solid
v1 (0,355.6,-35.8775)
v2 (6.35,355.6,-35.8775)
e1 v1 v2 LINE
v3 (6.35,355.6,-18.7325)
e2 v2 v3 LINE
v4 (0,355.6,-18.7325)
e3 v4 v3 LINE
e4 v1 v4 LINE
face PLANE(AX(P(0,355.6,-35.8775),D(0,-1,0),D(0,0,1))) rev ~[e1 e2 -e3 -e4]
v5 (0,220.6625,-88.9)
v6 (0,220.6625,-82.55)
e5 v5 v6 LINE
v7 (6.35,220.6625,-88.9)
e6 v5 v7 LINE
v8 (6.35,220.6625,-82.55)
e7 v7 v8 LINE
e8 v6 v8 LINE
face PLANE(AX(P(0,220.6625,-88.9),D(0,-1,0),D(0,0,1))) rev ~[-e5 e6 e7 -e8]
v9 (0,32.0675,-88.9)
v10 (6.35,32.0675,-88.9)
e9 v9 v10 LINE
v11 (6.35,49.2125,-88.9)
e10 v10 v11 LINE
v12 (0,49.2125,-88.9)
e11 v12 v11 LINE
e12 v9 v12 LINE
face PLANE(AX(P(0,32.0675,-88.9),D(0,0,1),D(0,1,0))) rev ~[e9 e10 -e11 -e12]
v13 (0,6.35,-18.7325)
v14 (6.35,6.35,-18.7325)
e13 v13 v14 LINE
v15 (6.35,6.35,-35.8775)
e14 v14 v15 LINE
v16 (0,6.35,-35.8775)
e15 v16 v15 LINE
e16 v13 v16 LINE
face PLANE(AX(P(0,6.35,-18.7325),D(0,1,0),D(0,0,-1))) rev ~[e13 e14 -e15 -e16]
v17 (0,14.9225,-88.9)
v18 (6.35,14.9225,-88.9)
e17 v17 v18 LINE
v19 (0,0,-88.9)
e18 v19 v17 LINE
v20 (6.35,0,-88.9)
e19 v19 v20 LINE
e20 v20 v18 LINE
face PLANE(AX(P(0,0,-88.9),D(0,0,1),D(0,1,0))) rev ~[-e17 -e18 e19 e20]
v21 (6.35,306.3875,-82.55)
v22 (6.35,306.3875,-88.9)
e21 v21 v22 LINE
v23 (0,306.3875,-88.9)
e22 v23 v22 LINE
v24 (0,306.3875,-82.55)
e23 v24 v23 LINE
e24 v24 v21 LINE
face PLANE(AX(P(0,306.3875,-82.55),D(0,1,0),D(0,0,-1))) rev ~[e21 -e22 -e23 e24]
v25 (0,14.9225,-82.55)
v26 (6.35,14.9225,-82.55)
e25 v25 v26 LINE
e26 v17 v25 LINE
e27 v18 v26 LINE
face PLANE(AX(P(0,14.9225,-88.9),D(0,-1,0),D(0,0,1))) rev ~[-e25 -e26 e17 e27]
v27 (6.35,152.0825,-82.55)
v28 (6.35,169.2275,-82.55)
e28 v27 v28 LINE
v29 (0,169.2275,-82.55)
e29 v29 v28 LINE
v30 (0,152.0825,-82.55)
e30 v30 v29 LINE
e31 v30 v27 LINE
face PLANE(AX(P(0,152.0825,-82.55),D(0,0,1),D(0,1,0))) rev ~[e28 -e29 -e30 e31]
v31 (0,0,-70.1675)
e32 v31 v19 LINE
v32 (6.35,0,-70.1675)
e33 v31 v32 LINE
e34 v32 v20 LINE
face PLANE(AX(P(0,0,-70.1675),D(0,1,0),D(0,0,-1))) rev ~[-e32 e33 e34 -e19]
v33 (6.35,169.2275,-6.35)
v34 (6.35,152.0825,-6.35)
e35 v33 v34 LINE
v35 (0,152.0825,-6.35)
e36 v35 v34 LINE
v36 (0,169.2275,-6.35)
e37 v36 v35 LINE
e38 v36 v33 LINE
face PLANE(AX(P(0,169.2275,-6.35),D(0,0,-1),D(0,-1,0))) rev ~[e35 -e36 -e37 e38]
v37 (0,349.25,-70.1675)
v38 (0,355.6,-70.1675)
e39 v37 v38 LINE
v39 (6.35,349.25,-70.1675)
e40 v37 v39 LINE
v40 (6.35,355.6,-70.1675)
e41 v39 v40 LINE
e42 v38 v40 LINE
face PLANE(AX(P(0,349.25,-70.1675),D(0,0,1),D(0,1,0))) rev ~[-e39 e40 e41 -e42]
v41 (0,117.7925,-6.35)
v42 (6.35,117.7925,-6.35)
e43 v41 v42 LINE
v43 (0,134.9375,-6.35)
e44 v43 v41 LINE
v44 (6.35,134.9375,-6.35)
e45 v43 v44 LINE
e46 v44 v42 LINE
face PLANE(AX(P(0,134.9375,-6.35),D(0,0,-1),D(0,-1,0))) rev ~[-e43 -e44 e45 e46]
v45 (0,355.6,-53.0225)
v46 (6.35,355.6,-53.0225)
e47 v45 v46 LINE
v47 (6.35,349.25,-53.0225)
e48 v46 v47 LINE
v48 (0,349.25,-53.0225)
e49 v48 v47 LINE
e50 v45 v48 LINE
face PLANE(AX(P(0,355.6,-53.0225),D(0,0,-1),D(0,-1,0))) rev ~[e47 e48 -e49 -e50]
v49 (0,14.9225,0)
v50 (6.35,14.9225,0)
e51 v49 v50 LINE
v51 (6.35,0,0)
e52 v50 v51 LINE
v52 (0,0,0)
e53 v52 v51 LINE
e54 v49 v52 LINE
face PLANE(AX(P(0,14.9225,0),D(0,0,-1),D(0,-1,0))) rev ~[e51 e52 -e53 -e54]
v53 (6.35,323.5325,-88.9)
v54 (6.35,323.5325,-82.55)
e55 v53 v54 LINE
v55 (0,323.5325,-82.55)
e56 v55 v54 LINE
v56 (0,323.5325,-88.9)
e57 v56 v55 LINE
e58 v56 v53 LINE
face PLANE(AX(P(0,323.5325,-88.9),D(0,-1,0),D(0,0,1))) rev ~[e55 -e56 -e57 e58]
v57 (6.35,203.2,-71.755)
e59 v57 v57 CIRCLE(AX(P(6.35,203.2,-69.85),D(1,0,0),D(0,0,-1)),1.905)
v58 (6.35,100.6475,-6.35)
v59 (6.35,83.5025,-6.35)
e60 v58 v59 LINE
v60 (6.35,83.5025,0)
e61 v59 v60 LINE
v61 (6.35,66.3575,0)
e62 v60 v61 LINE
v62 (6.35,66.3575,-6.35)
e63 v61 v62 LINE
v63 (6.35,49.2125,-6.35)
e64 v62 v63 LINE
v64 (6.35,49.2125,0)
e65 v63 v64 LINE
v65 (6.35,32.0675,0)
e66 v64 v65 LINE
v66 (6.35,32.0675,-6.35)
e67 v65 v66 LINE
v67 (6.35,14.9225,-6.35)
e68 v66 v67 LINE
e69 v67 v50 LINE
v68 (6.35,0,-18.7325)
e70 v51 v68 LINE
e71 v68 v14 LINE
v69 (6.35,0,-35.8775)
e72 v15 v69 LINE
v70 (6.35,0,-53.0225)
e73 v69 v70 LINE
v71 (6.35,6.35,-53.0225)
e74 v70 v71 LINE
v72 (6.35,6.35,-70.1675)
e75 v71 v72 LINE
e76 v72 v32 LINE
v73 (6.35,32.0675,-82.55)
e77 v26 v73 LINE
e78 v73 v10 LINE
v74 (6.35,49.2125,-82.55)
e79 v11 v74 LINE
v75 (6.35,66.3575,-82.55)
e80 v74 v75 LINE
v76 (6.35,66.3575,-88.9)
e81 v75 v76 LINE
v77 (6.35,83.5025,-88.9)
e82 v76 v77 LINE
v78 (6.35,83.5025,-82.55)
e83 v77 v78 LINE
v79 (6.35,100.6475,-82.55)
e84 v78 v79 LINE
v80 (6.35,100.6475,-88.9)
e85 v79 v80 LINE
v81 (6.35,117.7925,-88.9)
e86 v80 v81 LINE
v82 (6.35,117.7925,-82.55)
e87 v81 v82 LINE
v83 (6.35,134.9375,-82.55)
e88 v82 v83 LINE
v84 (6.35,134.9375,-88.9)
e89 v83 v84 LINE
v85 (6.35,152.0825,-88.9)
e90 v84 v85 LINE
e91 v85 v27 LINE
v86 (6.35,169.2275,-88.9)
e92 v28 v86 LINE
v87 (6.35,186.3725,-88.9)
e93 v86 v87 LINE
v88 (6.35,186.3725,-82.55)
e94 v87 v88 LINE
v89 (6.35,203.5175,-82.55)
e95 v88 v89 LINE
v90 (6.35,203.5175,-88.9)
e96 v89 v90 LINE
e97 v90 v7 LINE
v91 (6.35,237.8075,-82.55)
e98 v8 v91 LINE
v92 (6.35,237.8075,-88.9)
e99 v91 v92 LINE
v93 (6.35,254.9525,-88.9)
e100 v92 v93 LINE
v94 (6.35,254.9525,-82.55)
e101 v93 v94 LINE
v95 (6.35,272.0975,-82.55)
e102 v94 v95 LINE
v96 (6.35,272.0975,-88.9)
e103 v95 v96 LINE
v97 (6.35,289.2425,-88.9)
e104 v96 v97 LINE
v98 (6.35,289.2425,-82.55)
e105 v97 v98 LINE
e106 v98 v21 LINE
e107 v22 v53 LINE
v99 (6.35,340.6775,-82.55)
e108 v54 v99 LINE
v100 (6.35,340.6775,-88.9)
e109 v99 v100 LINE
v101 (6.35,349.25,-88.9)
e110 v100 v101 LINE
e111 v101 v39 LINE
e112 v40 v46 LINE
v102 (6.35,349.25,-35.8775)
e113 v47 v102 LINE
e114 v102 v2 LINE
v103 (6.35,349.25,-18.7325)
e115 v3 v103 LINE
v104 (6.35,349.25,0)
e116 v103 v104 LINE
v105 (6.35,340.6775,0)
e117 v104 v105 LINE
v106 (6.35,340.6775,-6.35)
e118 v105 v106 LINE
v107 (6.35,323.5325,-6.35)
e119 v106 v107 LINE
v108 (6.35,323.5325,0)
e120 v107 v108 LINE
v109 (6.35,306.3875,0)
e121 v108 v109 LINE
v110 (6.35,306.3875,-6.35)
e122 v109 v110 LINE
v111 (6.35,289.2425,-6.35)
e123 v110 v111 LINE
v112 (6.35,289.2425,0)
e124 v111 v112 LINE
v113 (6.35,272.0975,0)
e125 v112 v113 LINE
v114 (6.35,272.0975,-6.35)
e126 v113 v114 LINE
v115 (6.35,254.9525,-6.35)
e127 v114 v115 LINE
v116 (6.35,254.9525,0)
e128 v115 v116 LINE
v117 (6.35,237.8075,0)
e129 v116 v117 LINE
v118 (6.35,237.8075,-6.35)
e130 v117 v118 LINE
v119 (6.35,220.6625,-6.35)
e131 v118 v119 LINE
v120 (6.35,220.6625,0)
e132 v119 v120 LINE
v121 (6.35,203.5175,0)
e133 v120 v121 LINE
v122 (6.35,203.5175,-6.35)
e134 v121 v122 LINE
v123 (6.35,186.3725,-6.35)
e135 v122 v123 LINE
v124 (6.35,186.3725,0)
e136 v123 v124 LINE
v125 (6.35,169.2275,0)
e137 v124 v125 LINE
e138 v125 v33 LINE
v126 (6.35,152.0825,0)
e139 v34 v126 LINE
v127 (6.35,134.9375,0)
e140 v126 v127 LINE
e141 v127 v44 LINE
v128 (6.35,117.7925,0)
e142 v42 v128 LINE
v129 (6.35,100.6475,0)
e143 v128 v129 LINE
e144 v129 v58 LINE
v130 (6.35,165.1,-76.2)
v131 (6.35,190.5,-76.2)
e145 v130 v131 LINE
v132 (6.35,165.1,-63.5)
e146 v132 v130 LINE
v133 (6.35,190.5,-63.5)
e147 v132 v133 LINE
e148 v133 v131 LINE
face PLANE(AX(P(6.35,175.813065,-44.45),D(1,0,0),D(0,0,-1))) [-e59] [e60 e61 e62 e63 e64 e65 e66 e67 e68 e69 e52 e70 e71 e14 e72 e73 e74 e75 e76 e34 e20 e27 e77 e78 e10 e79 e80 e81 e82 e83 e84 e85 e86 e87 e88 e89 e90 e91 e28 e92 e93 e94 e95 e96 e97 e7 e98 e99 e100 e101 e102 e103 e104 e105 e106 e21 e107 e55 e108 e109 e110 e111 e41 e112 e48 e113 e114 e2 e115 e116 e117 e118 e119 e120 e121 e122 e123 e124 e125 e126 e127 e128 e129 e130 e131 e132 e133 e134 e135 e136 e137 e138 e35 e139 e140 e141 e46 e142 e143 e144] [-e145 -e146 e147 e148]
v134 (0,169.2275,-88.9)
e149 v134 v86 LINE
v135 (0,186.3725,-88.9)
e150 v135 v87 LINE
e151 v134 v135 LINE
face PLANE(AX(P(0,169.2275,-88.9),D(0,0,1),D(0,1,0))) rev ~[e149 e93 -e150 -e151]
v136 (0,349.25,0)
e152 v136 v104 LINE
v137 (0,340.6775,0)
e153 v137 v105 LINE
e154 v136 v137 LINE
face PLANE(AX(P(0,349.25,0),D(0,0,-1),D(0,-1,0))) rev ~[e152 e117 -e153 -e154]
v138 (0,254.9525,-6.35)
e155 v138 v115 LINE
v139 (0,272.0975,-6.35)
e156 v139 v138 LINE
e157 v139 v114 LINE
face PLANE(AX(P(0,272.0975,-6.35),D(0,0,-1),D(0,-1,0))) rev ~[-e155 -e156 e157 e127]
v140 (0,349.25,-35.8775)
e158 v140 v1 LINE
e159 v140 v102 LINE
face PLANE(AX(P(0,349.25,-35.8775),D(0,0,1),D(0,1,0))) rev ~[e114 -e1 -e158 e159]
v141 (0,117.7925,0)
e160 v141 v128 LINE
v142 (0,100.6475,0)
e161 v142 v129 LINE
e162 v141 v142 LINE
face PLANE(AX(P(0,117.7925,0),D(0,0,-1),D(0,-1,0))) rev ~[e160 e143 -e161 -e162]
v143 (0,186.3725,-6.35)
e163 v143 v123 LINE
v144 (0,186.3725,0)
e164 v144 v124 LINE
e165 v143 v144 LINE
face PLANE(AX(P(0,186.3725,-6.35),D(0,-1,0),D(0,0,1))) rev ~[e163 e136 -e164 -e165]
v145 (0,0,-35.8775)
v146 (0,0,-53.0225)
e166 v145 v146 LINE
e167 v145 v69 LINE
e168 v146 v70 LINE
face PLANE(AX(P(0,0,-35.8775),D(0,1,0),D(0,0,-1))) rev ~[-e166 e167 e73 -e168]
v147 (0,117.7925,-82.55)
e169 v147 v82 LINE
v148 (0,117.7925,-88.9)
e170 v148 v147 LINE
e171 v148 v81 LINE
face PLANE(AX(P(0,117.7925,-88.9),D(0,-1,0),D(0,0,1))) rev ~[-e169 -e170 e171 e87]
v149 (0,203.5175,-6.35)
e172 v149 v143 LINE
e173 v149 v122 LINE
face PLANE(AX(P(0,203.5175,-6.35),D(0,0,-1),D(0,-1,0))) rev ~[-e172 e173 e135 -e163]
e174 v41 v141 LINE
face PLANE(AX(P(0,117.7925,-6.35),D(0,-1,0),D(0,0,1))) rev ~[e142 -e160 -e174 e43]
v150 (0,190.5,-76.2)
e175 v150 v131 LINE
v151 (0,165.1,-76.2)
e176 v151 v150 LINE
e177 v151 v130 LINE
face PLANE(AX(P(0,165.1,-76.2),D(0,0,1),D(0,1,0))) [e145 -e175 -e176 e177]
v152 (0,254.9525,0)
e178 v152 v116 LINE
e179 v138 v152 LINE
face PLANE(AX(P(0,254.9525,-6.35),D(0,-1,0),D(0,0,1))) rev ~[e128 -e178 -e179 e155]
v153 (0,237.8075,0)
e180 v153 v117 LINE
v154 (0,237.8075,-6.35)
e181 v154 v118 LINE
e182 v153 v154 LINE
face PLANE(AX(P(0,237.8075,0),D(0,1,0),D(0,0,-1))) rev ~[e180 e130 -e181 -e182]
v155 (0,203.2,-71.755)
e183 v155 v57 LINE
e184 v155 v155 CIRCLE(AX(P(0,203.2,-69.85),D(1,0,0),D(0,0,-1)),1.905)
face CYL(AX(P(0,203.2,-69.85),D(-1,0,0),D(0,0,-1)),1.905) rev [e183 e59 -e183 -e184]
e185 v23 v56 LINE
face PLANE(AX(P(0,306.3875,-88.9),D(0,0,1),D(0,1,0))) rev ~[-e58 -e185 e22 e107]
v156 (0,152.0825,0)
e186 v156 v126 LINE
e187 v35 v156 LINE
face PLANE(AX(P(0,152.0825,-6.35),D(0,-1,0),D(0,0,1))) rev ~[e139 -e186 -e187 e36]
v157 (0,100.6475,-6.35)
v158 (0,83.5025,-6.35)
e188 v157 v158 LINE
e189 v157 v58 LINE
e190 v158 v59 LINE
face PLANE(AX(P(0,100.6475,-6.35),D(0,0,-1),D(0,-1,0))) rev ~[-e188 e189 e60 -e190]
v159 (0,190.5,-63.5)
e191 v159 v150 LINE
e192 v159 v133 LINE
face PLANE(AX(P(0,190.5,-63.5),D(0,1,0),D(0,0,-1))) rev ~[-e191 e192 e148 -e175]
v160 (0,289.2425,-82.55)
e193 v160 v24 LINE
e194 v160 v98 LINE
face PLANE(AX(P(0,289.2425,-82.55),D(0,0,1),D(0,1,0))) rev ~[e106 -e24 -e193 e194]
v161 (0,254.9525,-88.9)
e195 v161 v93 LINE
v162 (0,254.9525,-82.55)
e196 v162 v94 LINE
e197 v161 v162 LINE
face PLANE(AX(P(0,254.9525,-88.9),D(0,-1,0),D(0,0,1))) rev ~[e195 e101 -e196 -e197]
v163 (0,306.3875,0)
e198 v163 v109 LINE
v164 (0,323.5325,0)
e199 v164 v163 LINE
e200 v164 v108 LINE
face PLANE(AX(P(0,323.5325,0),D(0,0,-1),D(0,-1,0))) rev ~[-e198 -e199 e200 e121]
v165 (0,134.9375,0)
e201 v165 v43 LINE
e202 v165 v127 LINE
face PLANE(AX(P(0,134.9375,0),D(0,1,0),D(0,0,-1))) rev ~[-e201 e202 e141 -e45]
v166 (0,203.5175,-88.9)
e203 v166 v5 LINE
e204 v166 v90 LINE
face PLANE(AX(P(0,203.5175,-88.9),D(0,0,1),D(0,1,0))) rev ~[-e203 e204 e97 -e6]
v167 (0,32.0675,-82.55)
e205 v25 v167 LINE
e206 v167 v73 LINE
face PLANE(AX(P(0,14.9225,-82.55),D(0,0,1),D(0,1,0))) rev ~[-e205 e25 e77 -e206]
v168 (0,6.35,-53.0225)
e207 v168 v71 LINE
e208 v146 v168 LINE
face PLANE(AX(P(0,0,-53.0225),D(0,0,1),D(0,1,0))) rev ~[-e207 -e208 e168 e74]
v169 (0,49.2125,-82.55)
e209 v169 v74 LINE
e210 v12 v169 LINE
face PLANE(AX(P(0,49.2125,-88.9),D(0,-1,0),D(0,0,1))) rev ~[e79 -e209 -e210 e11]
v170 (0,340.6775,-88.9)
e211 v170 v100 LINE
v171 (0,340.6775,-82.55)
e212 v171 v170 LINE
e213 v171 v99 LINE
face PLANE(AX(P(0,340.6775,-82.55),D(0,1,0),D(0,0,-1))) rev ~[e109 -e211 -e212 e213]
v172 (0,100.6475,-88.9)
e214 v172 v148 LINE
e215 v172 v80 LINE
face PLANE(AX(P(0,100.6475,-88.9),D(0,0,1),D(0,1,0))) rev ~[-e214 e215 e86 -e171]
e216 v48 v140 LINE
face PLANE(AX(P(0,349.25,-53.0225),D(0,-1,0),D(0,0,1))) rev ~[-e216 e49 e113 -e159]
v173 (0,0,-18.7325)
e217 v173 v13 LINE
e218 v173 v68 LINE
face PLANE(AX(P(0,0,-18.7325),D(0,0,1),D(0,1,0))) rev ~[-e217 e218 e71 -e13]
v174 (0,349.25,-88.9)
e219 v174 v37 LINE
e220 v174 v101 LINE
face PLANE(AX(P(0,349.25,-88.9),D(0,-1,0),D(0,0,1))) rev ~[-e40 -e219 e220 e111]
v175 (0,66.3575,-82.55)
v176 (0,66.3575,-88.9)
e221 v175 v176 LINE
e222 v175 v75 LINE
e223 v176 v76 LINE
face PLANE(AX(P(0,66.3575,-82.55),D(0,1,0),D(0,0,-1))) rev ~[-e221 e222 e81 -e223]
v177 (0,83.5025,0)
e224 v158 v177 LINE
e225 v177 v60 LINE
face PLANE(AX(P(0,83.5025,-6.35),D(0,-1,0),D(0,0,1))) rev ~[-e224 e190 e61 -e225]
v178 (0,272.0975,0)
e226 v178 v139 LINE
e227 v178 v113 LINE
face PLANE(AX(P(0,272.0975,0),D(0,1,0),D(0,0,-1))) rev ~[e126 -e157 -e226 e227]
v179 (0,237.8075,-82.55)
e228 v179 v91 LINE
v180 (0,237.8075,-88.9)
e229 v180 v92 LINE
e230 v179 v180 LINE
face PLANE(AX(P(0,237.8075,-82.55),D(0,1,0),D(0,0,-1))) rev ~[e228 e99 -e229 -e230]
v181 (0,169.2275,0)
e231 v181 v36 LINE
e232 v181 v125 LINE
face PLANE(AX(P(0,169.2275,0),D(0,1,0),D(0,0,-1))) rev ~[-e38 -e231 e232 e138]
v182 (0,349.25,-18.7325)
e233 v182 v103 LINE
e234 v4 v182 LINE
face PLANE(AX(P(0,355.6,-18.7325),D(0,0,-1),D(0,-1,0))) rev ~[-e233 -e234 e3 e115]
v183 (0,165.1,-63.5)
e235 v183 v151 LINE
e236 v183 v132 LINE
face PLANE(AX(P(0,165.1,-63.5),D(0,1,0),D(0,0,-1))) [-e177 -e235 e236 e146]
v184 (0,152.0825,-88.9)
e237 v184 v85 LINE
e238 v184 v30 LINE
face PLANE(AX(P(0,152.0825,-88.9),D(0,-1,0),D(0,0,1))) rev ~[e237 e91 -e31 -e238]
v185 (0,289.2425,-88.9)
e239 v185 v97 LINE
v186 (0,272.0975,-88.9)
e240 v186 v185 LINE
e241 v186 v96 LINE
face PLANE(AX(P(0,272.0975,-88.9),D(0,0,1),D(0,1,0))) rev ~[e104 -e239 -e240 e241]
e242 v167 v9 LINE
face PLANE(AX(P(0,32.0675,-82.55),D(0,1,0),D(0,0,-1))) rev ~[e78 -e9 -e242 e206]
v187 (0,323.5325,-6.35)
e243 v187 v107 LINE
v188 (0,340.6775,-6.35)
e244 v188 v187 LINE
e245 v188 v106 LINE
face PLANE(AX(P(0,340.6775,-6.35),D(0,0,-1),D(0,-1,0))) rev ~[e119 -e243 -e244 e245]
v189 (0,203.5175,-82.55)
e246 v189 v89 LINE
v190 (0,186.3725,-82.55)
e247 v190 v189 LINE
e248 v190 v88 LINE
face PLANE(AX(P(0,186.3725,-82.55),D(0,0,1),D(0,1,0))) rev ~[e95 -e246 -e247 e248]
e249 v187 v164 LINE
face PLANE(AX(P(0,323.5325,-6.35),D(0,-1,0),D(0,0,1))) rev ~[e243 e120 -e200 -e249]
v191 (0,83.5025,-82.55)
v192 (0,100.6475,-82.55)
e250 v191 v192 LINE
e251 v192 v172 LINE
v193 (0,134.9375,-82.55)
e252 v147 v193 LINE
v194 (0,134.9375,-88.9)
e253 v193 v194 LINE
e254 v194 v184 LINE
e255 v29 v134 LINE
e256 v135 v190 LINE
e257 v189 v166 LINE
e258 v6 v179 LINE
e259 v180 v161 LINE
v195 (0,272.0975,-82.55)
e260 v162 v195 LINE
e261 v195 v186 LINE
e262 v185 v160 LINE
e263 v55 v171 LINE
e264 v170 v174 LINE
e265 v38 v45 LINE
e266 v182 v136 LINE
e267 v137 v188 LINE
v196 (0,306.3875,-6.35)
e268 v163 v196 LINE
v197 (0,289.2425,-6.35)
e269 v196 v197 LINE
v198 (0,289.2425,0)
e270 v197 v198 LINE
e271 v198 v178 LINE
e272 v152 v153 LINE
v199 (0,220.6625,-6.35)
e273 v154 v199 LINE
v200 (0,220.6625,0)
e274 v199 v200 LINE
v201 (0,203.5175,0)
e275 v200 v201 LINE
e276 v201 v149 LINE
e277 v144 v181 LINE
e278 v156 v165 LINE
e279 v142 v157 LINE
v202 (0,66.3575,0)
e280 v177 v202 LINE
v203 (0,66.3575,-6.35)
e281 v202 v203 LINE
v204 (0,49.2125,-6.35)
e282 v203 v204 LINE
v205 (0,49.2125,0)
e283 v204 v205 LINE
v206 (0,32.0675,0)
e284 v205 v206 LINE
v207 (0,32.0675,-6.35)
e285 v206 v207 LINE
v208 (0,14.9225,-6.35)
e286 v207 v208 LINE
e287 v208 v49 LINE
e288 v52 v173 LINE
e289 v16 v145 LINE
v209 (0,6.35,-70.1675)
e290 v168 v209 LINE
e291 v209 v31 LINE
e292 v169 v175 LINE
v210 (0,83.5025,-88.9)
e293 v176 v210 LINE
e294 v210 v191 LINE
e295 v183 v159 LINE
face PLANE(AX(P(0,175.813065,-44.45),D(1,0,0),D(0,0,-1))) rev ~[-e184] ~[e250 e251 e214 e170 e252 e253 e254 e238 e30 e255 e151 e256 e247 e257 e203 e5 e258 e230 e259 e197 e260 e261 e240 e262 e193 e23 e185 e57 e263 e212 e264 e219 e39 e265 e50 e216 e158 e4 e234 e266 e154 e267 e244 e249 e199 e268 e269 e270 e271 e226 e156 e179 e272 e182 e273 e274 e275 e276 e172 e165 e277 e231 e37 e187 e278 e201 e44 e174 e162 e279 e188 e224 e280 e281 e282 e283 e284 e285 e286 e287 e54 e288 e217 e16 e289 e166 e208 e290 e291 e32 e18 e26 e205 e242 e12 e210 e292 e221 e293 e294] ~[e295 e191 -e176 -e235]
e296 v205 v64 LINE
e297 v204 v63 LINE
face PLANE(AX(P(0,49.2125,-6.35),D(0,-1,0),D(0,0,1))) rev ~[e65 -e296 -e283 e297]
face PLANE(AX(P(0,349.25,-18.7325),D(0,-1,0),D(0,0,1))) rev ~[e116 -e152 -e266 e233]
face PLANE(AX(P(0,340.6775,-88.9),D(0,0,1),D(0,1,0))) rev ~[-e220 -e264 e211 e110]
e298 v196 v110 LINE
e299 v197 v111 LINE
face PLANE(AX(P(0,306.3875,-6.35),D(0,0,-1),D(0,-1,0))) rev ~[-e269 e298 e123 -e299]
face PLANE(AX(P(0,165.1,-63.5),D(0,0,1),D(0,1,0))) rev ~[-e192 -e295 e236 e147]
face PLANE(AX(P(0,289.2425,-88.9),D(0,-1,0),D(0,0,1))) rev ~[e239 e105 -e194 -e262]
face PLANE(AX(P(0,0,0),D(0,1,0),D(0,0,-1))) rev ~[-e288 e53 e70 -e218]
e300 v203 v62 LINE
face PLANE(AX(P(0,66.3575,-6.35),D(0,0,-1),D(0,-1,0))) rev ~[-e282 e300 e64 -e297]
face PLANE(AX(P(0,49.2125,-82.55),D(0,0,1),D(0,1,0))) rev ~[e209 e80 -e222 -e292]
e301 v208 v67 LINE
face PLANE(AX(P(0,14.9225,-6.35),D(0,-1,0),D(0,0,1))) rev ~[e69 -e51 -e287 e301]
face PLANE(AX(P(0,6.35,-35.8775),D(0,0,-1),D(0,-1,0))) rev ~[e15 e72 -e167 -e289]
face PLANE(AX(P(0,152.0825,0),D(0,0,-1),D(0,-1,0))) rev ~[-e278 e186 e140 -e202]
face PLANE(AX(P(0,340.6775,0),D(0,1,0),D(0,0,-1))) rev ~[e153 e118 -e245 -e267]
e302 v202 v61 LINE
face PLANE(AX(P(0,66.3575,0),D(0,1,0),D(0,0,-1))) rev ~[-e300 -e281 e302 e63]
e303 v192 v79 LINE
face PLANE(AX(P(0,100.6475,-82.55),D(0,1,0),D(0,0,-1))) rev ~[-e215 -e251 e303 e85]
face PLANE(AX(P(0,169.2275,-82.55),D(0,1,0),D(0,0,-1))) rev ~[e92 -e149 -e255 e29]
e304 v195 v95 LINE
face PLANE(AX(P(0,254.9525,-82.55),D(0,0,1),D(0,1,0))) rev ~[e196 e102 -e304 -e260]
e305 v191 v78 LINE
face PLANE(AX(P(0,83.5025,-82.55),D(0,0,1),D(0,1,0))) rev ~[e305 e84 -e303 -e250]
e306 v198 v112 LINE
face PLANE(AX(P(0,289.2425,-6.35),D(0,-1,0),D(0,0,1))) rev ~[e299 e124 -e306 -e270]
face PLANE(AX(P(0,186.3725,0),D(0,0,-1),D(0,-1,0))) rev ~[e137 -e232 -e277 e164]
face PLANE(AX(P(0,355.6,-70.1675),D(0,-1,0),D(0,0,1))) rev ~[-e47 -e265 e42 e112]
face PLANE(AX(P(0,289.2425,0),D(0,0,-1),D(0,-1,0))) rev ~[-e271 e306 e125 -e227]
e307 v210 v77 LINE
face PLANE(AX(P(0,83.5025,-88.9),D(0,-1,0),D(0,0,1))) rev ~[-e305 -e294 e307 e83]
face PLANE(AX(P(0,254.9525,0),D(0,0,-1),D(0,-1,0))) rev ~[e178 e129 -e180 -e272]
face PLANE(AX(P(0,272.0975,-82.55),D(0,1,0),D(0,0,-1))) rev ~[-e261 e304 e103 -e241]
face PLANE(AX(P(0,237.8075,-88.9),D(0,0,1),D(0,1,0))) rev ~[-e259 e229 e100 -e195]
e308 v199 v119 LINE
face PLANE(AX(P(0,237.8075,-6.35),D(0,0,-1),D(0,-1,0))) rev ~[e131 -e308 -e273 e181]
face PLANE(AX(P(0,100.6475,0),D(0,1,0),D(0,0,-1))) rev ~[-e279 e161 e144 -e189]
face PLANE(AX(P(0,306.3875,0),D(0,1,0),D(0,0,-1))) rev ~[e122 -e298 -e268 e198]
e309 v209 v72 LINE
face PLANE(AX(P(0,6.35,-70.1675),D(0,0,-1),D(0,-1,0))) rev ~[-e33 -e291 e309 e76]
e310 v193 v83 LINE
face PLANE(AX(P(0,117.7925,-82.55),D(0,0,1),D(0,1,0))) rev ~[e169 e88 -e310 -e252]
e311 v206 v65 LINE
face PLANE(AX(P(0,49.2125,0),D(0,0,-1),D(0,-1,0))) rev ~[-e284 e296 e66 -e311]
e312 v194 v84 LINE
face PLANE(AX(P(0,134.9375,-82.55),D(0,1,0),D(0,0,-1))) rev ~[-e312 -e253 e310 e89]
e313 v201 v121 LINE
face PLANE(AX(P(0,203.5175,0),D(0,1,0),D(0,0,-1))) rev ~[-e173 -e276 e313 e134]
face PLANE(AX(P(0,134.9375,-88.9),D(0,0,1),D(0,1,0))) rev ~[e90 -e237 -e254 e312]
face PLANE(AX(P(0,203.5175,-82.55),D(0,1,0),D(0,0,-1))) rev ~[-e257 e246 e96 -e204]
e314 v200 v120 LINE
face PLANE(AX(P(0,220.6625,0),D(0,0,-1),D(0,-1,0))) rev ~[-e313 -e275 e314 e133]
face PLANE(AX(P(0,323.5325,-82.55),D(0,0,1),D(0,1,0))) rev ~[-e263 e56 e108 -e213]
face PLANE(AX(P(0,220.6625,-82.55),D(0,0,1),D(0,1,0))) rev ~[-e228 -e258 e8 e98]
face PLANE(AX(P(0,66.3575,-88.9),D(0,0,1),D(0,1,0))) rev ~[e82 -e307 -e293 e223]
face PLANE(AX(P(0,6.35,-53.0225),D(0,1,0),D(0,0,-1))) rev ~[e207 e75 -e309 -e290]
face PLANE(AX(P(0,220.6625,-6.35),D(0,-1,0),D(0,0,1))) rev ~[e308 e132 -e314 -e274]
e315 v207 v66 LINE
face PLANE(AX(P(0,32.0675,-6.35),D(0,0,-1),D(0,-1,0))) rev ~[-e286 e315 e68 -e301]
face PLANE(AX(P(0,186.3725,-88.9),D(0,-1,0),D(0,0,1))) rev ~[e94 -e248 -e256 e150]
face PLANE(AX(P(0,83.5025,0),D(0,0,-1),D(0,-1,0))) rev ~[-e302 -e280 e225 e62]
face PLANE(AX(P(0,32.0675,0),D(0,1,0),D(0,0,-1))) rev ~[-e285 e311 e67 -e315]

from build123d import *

# Parameters (mm, degrees)
SKETCH1_W           = 12.7
SKETCH1_H           = 25.4
SKETCH1_R           = 1.905
BOSS_EXTRUDE1_DEPTH = 6.35


with BuildPart() as part:
    # Sketch1 → Boss-Extrude1 (new body)
    with BuildSketch(Plane(origin=(0, 0, 0), x_dir=(0, 0, -1), z_dir=(1, 0, 0))):
        Polygon((0, 14.9225), (0, 6.35), (0, 0), (6.35, 0), (18.7325, 0), (18.7325, 6.35), (35.8775, 6.35), (35.8775, 0), (53.0225, 0), (53.0225, 6.35), (70.1675, 6.35), (70.1675, 0), (82.55, 0), (88.9, 0), (88.9, 6.35), (88.9, 14.9225), (82.55, 14.9225), (82.55, 32.0675), (88.9, 32.0675), (88.9, 49.2125), (82.55, 49.2125), (82.55, 66.3575), (88.9, 66.3575), (88.9, 83.5025), (82.55, 83.5025), (82.55, 100.6475), (88.9, 100.6475), (88.9, 117.7925), (82.55, 117.7925), (82.55, 134.9375), (88.9, 134.9375), (88.9, 152.0825), (82.55, 152.0825), (82.55, 169.2275), (88.9, 169.2275), (88.9, 186.3725), (82.55, 186.3725), (82.55, 203.5175), (88.9, 203.5175), (88.9, 220.6625), (82.55, 220.6625), (82.55, 237.8075), (88.9, 237.8075), (88.9, 254.9525), (82.55, 254.9525), (82.55, 272.0975), (88.9, 272.0975), (88.9, 289.2425), (82.55, 289.2425), (82.55, 306.3875), (88.9, 306.3875), (88.9, 323.5325), (82.55, 323.5325), (82.55, 340.6775), (88.9, 340.6775), (88.9, 349.25), (70.1675, 349.25), (70.1675, 355.6), (53.0225, 355.6), (53.0225, 349.25), (35.8775, 349.25), (35.8775, 355.6), (18.7325, 355.6), (18.7325, 349.25), (6.35, 349.25), (0, 349.25), (0, 340.6775), (6.35, 340.6775), (6.35, 334.518000001), (6.35, 329.692000001), (6.35, 323.5325), (0, 323.5325), (0, 306.3875), (6.35, 306.3875), (6.35, 289.2425), (0, 289.2425), (0, 272.0975), (6.35, 272.0975), (6.35, 254.9525), (0, 254.9525), (0, 237.8075), (6.35, 237.8075), (6.35, 220.6625), (0, 220.6625), (0, 203.5175), (6.35, 203.5175), (6.35, 186.3725), (0, 186.3725), (0, 169.2275), (6.35, 169.2275), (6.35, 152.0825), (0, 152.0825), (0, 134.9375), (6.35, 134.9375), (6.35, 117.7925), (0, 117.7925), (0, 100.6475), (6.35, 100.6475), (6.35, 83.5025), (0, 83.5025), (0, 66.3575), (6.35, 66.3575), (6.35, 49.2125), (0, 49.2125), (0, 32.0675), (6.35, 32.0675), (6.35, 25.907999999), (6.35, 21.081999999), (6.35, 14.9225), align=None)
        with Locations((69.85, 177.8)):
            Rectangle(SKETCH1_W, SKETCH1_H, mode=Mode.SUBTRACT)
        with Locations((69.85, 203.2)):
            Circle(SKETCH1_R, mode=Mode.SUBTRACT)
    extrude(amount=BOSS_EXTRUDE1_DEPTH)


solid = part.part
